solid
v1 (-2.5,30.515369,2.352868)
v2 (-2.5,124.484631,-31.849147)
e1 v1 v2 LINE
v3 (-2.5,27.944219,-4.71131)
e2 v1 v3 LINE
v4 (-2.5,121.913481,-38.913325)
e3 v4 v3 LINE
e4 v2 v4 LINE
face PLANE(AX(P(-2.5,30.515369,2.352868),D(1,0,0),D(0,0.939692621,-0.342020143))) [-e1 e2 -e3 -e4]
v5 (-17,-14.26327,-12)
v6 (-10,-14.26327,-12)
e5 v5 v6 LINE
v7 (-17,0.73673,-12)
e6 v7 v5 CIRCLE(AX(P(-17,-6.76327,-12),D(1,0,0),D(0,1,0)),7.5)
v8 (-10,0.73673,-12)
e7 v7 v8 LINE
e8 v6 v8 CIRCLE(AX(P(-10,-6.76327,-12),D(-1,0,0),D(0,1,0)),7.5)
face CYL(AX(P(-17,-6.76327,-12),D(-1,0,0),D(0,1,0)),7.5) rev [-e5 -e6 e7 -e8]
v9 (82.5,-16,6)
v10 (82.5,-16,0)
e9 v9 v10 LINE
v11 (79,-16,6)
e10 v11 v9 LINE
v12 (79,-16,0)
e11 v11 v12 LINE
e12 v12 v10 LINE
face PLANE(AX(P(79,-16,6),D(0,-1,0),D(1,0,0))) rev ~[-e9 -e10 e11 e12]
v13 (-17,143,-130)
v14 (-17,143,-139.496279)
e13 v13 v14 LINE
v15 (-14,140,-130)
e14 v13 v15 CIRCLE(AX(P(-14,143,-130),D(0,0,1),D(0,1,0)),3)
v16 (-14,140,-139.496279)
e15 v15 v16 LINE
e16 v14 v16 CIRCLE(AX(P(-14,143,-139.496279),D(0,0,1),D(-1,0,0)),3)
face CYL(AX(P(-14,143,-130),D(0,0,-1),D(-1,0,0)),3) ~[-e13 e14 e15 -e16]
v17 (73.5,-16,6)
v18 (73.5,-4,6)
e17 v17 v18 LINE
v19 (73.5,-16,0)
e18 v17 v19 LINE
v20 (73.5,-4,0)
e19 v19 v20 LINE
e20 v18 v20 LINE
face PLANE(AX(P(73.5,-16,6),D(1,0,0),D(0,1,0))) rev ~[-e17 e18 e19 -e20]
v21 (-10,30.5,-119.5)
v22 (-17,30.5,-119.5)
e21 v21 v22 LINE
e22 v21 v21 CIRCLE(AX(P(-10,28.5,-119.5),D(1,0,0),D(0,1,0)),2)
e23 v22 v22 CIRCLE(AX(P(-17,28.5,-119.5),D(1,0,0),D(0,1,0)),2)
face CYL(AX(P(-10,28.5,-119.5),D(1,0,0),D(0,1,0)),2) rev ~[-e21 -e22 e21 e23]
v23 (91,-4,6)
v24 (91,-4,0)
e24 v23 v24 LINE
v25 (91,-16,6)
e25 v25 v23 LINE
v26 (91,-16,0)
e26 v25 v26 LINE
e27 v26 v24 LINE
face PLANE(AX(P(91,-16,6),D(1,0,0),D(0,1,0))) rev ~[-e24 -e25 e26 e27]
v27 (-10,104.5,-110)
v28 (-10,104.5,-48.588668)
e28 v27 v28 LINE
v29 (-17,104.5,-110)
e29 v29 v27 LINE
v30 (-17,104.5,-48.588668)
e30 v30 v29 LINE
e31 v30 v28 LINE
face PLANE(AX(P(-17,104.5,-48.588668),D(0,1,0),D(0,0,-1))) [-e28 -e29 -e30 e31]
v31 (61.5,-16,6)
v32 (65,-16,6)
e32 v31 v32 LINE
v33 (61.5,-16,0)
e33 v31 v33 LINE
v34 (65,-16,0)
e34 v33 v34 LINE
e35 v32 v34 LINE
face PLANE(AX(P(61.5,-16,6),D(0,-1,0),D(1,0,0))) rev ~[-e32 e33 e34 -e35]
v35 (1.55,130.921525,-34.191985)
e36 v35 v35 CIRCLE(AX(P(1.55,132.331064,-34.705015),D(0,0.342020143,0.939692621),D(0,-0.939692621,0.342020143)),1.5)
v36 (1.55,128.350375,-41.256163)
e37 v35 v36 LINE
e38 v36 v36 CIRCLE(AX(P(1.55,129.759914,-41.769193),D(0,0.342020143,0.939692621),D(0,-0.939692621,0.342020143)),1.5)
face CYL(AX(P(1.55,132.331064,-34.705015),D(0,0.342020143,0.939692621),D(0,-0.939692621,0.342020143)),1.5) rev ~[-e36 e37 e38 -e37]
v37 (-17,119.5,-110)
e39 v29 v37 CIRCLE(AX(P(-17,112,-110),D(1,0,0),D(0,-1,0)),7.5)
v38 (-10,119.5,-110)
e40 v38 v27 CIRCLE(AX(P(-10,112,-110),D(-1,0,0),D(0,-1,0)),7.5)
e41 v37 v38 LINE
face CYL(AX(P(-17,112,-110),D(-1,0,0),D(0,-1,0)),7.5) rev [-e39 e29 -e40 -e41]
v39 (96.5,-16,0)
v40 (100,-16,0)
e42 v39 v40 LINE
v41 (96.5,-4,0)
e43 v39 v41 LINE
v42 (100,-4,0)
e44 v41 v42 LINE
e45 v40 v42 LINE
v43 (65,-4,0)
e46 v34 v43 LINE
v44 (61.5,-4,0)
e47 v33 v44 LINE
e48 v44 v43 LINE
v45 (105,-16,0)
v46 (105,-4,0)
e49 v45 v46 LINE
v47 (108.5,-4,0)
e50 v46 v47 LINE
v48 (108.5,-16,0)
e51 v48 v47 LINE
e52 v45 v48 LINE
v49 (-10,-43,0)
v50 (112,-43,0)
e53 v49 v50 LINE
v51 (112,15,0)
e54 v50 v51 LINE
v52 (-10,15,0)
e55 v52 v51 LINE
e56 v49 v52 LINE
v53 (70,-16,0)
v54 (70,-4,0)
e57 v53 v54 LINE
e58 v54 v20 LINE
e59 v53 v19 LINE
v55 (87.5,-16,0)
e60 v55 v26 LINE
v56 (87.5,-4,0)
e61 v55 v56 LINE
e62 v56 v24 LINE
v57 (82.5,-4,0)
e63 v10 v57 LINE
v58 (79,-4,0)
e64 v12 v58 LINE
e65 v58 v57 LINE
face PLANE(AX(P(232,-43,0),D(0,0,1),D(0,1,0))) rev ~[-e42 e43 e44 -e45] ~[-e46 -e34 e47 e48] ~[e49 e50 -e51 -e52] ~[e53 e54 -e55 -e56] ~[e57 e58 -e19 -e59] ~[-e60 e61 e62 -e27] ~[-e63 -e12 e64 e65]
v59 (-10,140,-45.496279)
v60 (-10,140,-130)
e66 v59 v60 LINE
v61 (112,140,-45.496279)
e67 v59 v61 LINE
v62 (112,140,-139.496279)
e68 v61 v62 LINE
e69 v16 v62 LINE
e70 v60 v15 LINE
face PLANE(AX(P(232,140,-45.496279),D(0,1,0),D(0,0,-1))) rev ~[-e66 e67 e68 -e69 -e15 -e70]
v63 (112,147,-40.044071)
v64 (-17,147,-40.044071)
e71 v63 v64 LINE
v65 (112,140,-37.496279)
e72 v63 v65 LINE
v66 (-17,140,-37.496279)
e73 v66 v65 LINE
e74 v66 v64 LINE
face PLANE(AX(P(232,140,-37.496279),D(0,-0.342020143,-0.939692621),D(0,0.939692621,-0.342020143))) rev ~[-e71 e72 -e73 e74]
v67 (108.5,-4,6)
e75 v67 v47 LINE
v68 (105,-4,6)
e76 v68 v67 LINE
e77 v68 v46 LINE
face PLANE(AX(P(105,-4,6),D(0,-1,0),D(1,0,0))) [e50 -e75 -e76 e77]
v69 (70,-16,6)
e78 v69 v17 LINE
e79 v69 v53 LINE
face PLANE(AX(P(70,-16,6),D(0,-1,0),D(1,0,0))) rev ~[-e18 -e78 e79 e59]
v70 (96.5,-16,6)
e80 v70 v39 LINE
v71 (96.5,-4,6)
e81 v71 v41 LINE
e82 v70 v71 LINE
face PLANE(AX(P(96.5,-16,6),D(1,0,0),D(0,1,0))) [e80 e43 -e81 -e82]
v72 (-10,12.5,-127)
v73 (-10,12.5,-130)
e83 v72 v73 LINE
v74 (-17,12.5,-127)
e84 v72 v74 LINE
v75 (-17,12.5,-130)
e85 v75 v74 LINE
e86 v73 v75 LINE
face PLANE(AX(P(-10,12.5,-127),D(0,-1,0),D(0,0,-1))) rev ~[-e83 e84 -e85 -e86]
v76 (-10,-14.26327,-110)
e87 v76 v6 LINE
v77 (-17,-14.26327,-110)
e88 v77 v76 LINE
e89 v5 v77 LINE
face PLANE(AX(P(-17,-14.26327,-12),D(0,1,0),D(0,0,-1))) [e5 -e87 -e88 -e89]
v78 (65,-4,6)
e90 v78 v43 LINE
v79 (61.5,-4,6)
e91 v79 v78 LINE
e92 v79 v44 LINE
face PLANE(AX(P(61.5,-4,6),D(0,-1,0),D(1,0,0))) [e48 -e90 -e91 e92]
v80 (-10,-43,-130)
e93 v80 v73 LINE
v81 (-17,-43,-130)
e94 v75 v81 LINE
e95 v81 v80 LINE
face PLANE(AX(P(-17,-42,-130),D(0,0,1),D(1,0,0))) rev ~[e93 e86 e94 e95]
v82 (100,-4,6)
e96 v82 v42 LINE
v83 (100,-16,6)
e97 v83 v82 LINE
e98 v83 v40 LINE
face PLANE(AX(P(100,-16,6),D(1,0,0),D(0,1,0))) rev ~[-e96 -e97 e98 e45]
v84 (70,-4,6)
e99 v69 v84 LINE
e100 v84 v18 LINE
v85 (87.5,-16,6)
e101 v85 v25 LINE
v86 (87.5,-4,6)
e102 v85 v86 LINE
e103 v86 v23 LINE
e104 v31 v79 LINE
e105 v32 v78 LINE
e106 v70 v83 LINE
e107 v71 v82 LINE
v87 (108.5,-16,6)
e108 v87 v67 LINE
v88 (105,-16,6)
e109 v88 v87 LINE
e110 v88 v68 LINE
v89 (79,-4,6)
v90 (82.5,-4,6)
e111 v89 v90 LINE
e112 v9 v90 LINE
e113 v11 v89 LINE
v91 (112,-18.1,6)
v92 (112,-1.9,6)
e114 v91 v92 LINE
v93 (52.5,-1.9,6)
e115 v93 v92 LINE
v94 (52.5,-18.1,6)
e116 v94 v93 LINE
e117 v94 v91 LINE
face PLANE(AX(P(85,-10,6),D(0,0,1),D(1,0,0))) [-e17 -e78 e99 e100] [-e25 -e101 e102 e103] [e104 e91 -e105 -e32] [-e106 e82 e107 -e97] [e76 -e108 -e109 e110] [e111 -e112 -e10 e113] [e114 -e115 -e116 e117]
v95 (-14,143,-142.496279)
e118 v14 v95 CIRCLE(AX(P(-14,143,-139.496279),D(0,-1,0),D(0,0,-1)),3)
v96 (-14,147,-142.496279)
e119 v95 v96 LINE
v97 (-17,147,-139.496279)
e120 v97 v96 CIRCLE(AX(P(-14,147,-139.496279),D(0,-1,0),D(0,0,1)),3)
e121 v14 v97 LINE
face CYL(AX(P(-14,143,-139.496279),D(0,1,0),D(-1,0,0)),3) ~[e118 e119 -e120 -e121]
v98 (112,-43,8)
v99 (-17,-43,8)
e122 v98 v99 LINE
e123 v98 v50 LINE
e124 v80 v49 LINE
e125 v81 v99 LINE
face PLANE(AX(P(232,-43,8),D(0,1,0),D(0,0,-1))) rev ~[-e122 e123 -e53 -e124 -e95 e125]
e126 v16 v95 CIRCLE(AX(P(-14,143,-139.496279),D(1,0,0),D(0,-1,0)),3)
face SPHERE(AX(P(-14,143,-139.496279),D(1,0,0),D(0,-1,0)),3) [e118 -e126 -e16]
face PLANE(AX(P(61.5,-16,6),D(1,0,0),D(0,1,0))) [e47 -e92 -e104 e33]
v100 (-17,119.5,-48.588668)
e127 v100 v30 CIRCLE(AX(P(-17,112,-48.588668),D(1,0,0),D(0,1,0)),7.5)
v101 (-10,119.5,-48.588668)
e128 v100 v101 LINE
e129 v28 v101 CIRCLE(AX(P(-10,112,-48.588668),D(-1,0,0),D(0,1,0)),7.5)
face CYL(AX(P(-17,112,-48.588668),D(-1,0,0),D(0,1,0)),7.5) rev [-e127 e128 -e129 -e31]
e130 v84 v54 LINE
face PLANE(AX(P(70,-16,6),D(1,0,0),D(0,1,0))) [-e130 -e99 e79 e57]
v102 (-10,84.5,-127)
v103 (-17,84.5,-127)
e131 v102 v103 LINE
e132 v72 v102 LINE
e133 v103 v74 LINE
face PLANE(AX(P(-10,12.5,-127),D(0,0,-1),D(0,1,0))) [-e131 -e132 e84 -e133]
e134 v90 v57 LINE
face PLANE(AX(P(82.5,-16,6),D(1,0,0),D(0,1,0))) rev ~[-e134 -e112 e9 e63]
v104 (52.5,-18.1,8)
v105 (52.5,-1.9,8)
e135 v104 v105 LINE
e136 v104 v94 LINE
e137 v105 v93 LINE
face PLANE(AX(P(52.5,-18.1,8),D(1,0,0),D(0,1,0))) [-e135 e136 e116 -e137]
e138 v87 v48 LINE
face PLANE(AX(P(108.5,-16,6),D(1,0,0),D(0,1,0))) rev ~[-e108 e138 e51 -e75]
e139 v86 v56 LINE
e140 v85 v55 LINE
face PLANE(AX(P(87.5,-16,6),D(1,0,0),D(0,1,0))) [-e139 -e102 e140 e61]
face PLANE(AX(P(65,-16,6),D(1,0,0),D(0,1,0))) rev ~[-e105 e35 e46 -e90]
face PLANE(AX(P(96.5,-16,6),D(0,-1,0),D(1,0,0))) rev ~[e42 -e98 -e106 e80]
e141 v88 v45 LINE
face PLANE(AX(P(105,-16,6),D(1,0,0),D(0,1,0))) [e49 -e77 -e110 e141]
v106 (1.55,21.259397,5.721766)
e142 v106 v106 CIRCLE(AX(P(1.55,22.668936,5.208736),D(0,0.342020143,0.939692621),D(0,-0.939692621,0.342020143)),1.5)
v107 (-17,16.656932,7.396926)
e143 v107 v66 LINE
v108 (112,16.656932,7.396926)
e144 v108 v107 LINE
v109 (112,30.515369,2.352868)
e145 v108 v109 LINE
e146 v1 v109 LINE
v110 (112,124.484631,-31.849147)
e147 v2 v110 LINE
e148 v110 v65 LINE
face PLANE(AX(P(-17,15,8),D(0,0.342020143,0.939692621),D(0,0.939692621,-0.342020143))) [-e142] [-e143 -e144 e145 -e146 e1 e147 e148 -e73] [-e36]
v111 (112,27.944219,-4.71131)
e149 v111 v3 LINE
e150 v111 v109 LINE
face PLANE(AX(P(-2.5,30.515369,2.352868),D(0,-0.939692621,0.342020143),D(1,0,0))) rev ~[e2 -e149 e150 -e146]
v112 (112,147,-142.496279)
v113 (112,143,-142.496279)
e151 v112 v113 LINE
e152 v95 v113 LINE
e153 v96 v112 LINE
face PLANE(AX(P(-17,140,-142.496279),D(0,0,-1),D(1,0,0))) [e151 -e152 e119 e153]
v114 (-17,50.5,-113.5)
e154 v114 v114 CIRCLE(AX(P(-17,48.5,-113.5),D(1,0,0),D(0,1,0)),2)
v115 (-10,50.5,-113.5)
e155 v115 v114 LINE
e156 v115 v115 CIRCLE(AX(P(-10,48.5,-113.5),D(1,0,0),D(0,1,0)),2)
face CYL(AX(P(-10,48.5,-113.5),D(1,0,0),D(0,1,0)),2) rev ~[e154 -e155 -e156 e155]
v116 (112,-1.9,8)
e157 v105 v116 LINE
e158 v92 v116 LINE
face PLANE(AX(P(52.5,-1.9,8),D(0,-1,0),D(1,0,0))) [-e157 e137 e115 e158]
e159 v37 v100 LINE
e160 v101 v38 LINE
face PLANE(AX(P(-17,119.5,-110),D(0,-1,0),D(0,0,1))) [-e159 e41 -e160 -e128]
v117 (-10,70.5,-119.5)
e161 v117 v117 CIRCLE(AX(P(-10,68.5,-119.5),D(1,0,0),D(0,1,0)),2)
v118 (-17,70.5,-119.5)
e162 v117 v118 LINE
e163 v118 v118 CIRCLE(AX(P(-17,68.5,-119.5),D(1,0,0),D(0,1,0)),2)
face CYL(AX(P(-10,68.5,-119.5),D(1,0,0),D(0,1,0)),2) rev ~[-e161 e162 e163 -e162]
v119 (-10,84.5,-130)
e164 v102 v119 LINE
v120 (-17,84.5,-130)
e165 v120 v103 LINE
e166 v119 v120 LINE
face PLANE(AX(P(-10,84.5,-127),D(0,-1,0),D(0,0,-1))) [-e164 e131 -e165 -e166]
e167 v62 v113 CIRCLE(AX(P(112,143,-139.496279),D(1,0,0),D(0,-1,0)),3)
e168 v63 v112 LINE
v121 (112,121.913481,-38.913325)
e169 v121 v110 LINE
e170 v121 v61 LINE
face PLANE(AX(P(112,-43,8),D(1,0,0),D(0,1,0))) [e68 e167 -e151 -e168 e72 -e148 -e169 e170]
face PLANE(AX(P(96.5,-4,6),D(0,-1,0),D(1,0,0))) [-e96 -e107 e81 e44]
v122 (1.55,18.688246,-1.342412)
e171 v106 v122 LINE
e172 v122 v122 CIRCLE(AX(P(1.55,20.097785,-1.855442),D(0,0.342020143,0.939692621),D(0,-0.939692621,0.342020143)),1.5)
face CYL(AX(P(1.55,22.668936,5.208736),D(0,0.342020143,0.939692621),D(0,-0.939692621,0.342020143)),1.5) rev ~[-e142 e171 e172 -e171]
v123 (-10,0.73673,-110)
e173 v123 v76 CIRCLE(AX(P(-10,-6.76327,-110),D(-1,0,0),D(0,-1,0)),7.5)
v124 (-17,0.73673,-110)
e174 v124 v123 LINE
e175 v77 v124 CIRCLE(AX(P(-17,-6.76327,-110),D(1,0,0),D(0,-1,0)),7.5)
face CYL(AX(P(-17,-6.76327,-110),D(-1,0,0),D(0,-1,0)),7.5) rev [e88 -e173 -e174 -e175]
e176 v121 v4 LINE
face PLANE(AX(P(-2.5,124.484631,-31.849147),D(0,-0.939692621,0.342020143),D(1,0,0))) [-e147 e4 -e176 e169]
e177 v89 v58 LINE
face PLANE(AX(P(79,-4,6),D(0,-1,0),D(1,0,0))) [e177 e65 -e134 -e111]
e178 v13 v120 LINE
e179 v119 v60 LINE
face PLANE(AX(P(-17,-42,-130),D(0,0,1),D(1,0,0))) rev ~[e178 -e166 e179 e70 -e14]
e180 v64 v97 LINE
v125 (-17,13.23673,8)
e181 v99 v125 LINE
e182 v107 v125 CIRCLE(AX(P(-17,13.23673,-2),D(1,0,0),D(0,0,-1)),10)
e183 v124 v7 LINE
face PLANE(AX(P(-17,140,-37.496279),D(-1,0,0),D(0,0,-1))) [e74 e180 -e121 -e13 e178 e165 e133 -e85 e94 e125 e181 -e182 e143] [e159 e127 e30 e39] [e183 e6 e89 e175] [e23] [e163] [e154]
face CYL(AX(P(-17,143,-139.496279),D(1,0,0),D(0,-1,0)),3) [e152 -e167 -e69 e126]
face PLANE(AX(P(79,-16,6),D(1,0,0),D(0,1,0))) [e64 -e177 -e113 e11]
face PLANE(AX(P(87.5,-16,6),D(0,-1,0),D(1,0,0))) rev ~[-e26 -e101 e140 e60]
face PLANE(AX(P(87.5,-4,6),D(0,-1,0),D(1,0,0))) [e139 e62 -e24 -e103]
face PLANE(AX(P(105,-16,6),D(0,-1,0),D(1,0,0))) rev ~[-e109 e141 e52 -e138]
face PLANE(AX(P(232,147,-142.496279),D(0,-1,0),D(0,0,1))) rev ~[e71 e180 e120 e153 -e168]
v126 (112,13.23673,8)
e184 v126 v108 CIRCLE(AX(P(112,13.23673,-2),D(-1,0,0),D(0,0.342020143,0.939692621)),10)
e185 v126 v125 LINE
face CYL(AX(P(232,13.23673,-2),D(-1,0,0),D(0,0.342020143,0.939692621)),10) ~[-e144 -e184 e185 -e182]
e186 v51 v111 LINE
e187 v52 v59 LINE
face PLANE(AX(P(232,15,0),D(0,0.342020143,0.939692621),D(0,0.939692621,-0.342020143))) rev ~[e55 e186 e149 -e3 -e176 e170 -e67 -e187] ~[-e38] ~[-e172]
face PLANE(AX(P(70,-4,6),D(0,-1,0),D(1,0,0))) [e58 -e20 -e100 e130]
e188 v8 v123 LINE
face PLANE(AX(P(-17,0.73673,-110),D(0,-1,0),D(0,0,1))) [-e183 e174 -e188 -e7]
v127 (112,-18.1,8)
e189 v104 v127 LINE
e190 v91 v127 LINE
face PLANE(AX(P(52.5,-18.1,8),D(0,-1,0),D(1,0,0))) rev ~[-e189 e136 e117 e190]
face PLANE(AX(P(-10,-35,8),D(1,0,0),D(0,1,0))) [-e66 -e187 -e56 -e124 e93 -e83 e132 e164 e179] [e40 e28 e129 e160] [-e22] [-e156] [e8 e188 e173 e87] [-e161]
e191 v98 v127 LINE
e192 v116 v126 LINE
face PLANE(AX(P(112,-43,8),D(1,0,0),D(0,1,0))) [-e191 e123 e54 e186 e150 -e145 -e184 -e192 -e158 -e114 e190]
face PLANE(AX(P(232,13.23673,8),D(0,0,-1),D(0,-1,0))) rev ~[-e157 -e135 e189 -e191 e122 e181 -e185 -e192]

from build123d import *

# Parameters (mm, degrees)
SKETCH1_W                = 170
SKETCH1_H                = 130
BOSS_EXTRUDE1_DEPTH      = 8
SKETCH2_R                = 1.5
SKETCH2_W                = 165
SKETCH2_H                = 100
CUT_EXTRUDE1_DEPTH       = 21
SKETCH3_W                = 170
SKETCH3_H                = 20
BOSS_EXTRUDE2_DEPTH      = 8
SKETCH4_W                = 65
SKETCH4_H                = 16.2
CUT_EXTRUDE2_DEPTH       = 2
SKETCH5_W                = 3.5
SKETCH5_H                = 12
CUT_EXTRUDE3_DEPTH       = 35
SKETCH6_W                = 170
SKETCH6_H                = 150
BOSS_EXTRUDE3_DEPTH      = 8
BOSS_EXTRUDE4_DEPTH      = 138
SKETCH8_W                = 249
SKETCH8_H                = 138
BOSS_EXTRUDE5_DEPTH      = 1
SKETCH9_W                = 72.8
SKETCH9_H                = 73.25
CUT_EXTRUDE4_DEPTH       = 19
BOSS_EXTRUDE6_DEPTH      = 5
SKETCH11_R               = 1.5
CUT_EXTRUDE5_DEPTH       = 56
SKETCH12_R               = 9
SKETCH12_R_2             = 6.5
SKETCH12_R_3             = 1
SKETCH12_R_4             = 2.75
CUT_EXTRUDE6_DEPTH       = 115
SKETCH13_W               = 58.59049163
SKETCH13_H               = 30.075830986
CUT_EXTRUDE7_DEPTH       = 3
FILLET1_R                = 2
SKETCH15_R               = 1.5
CUT_EXTRUDE8_DEPTH       = 10
CUT_EXTRUDE10_DEPTH      = 261
SKETCH19_R               = 1.5
BOSS_EXTRUDE7_DEPTH      = 8
BOSS_EXTRUDE12_START     = -124.5
BOSS_EXTRUDE12_DEPTH     = 249
SKETCH22_R               = 1.5
SKETCH22_W               = 165
SKETCH22_H               = 100
CUT_EXTRUDE11_DEPTH      = 18
FILLET2_R                = 10
SKETCH24_R               = 2
SKETCH24_W               = 3
SKETCH24_H               = 72
CUT_EXTRUDE15_DEPTH      = 42
CUT_EXTRUDE16_DEPTH      = 140
CUT_EXTRUDE16_DEPTH_BACK = 242
SKETCH27_W               = 249
SKETCH27_H               = 105
BOSS_EXTRUDE13_DEPTH     = 7
CUT_EXTRUDE17_DEPTH      = 249
FILLET6_R                = 3
FILLET7_R                = 3
BOSS_EXTRUDE14_DEPTH     = 9
SKETCH30_R               = 1.5
CUT_EXTRUDE18_DEPTH      = 10
SKETCH31_R               = 1.5
CUT_EXTRUDE19_DEPTH      = 49
CUT_EXTRUDE20_DEPTH      = 49
SKETCH33_W               = 129
SKETCH33_H               = 190
CUT_EXTRUDE21_DEPTH      = 200


with BuildPart() as part:
    # Sketch1 → Boss-Extrude1 (new body)
    with BuildSketch(Plane.XY):
        with Locations((85, 65)):
            Rectangle(SKETCH1_W, SKETCH1_H)
    extrude(amount=BOSS_EXTRUDE1_DEPTH)

    # Sketch2 → Cut-Extrude1 (cut)
    with BuildSketch(Plane.XY.offset(8)):
        with Locations((6.55, 123.35)):
            Circle(SKETCH2_R)
        with Locations((163.45, 123.35)):
            Circle(SKETCH2_R)
        with Locations((6.55, 6.65)):
            Circle(SKETCH2_R)
        with Locations((163.45, 6.65)):
            Circle(SKETCH2_R)
        with Locations((85, 65)):
            Rectangle(SKETCH2_W, SKETCH2_H)
    extrude(amount=-CUT_EXTRUDE1_DEPTH, mode=Mode.SUBTRACT)

    # Sketch3 → Boss-Extrude2 (add)
    with BuildSketch(Plane.XY.offset(8)):
        with Locations((85, -10)):
            Rectangle(SKETCH3_W, SKETCH3_H)
    extrude(amount=-BOSS_EXTRUDE2_DEPTH)

    # Sketch4 → Cut-Extrude2 (cut)
    with BuildSketch(Plane.XY.offset(8)):
        with Locations((85, -10)):
            Rectangle(SKETCH4_W, SKETCH4_H)
    extrude(amount=-CUT_EXTRUDE2_DEPTH, mode=Mode.SUBTRACT)

    # Sketch5 → Cut-Extrude3 (cut)
    with BuildSketch(Plane.XY.offset(6)):
        with Locations((63.25, -10)):
            Rectangle(SKETCH5_W, SKETCH5_H)
        with Locations((71.75, -10)):
            Rectangle(SKETCH5_W, SKETCH5_H)
        with Locations((80.75, -10)):
            Rectangle(SKETCH5_W, SKETCH5_H)
        with Locations((89.25, -10)):
            Rectangle(SKETCH5_W, SKETCH5_H)
        with Locations((98.25, -10)):
            Rectangle(SKETCH5_W, SKETCH5_H)
        with Locations((106.75, -10)):
            Rectangle(SKETCH5_W, SKETCH5_H)
    extrude(amount=-CUT_EXTRUDE3_DEPTH, mode=Mode.SUBTRACT)

    # Sketch6 → Boss-Extrude3 (add)
    with BuildSketch(Plane.XY.offset(8)):
        Polygon((15.504384948, 140), (225, 140), (225, -35), (-10, -35), (-10, 140), align=None)
        with Locations((85, 55)):
            Rectangle(SKETCH6_W, SKETCH6_H, mode=Mode.SUBTRACT)
    extrude(amount=-BOSS_EXTRUDE3_DEPTH)

    # Sketch7 → Boss-Extrude4 (add)
    with BuildSketch(Plane.XY.offset(8)):
        Polygon((-10, 140), (-17, 140), (-17, -42), (232, -42), (232, 140), (225, 140), (225, -35), (-10, -35), align=None)
    extrude(amount=-BOSS_EXTRUDE4_DEPTH)

    # Sketch8 → Boss-Extrude5 (add)
    with BuildSketch(Plane.XZ.offset(42)):
        with Locations((107.5, -61)):
            Rectangle(SKETCH8_W, SKETCH8_H)
    extrude(amount=BOSS_EXTRUDE5_DEPTH)

    # Sketch9 → Cut-Extrude4 (cut)
    with BuildSketch(Plane(origin=(232, 0, 0), x_dir=(0, 0, -1), z_dir=(1, 0, 0))):
        with Locations((75, 35)):
            Rectangle(SKETCH9_W, SKETCH9_H)
    extrude(amount=-CUT_EXTRUDE4_DEPTH, mode=Mode.SUBTRACT)

    # Sketch10 → Boss-Extrude6 (add)
    with BuildSketch(Plane(origin=(232, 0, 0), x_dir=(0, 0, -1), z_dir=(1, 0, 0))):
        Polygon((36, 44), (36, -4), (114, -4), (114, 44), (119, 44), (119, -9), (31, -9), (31, 44), align=None)
    extrude(amount=BOSS_EXTRUDE6_DEPTH)

    # Sketch11 → Cut-Extrude5 (cut)
    with BuildSketch(Plane(origin=(237, 0, 0), x_dir=(0, 0, -1), z_dir=(1, 0, 0))):
        with Locations((33.5, 17.5)):
            Circle(SKETCH11_R)
        with Locations((116.5, 17.5)):
            Circle(SKETCH11_R)
    extrude(amount=-CUT_EXTRUDE5_DEPTH, mode=Mode.SUBTRACT)

    # Sketch12 → Cut-Extrude6 (cut)
    with BuildSketch(Plane(origin=(0, -35, 0), x_dir=(1, 0, 0), z_dir=(0, 1, 0))):
        with Locations(Location((166.25, 32.5, 0), (0, 0, 180))):
            Circle(SKETCH12_R)
        with Locations(Location((166.25, 97.5, 0), (0, 0, 180))):
            Circle(SKETCH12_R_2)
        with Locations(Location((155.75, 97.5, 0), (0, 0, 180))):
            Circle(SKETCH12_R_3)
        with Locations(Location((155.75, 85, 0), (0, 0, 180))):
            Circle(SKETCH12_R_3)
        with Locations(Location((176.75, 85, 0), (0, 0, 180))):
            Circle(SKETCH12_R_3)
        with Locations(Location((176.75, 97.5, 0), (0, 0, 180))):
            Circle(SKETCH12_R_3)
        with Locations(Location((145.25, 97.5, 0), (0, 0, 180))):
            Circle(SKETCH12_R_4)
        with Locations(Location((187.25, 97.5, 0), (0, 0, 180))):
            Circle(SKETCH12_R_4)
    extrude(amount=-CUT_EXTRUDE6_DEPTH, mode=Mode.SUBTRACT)

    # Sketch13 → Cut-Extrude7 (cut)
    with BuildSketch(Plane.XZ.offset(43)):
        with Locations((166.25, -93.48757215)):
            Rectangle(SKETCH13_W, SKETCH13_H)
    extrude(amount=-CUT_EXTRUDE7_DEPTH, mode=Mode.SUBTRACT)

    # Fillet1
    fillet1_edges = [part.edges().sort_by_distance(p)[0] for p in [
        (136.954754185, -40, -93.48757215),
        (166.25, -40, -78.449656657),
        (195.545245815, -40, -93.48757215),
        (166.25, -40, -108.525487643),
    ]]
    fillet(fillet1_edges, radius=FILLET1_R)

    # Sketch15 → Cut-Extrude8 (cut)
    with BuildSketch(Plane(origin=(0, 140, 0), x_dir=(1, 0, 0), z_dir=(0, 1, 0))):
        with Locations(Location((5, -4, 0), (0, 0, 270))):
            Circle(SKETCH15_R)
        with Locations(Location((20, -4, 0), (0, 0, 270))):
            Circle(SKETCH15_R)
        with Locations(Location((217, -4, 0), (0, 0, 90))):
            Circle(SKETCH15_R)
        with Locations(Location((202, -4, 0), (0, 0, 90))):
            Circle(SKETCH15_R)
    extrude(amount=-CUT_EXTRUDE8_DEPTH, mode=Mode.SUBTRACT)

    # Sketch18 → Cut-Extrude10 (cut)
    with BuildSketch(Plane(origin=(232, 0, 0), x_dir=(0, 0, -1), z_dir=(1, 0, 0))):
        Polygon((45.496279283, 140), (-8, 140), (-8, 15), (0, 15), align=None)
    extrude(amount=-CUT_EXTRUDE10_DEPTH, mode=Mode.SUBTRACT)

    # Sketch19 → Boss-Extrude7 (add)
    with BuildSketch(Plane.XY.offset(8)):
        with Locations((6.55, 6.65)):
            Circle(SKETCH19_R)
        with Locations((163.45, 6.65)):
            Circle(SKETCH19_R)
    extrude(amount=-BOSS_EXTRUDE7_DEPTH)

    # Sketch21 → Boss-Extrude12 (add)
    with BuildSketch(Plane(origin=(107.5, 0, 0), x_dir=(0, 0, -1), z_dir=(1, 0, 0)).offset(BOSS_EXTRUDE12_START)):
        Polygon((45.496279283, 140), (0, 15), (-8, 15), (37.496279283, 140), align=None)
    extrude(amount=BOSS_EXTRUDE12_DEPTH)

    # Sketch22 → Cut-Extrude11 (cut)
    with BuildSketch(Plane(origin=(0, 4.325817115, 11.885084845), x_dir=(1, 0, 0), z_dir=(0, 0.3420201433256603, 0.9396926207859115))):
        with Locations(Location((1.55, 136.220338945, 0), (0, 0, 270))):
            Circle(SKETCH22_R)
        with Locations(Location((158.45, 136.220338945, 0), (0, 0, 270))):
            Circle(SKETCH22_R)
        with Locations(Location((1.55, 19.520338945, 0), (0, 0, 270))):
            Circle(SKETCH22_R)
        with Locations(Location((158.45, 19.520338945, 0), (0, 0, 270))):
            Circle(SKETCH22_R)
        with Locations((80, 77.870338945)):
            Rectangle(SKETCH22_W, SKETCH22_H)
    extrude(amount=-CUT_EXTRUDE11_DEPTH, mode=Mode.SUBTRACT)

    # Fillet2
    fillet2_edges = [part.edges().sort_by_distance(p)[0] for p in [
        (107.5, 15, 8),
    ]]
    fillet(fillet2_edges, radius=FILLET2_R)

    # Sketch24 → Cut-Extrude15 (cut)
    with BuildSketch(Plane(origin=(-10, 0, 0), x_dir=(0, 0, -1), z_dir=(1, 0, 0))):
        with Locations(Location((113.5, 48.5, 0), (0, 0, 90))):
            Circle(SKETCH24_R)
        with Locations(Location((119.5, 68.5, 0), (0, 0, 90))):
            Circle(SKETCH24_R)
        with Locations(Location((119.5, 28.5, 0), (0, 0, 90))):
            Circle(SKETCH24_R)
        with Locations((128.5, 48.5)):
            Rectangle(SKETCH24_W, SKETCH24_H)
    extrude(amount=-CUT_EXTRUDE15_DEPTH, mode=Mode.SUBTRACT)

    # Sketch25 → Cut-Extrude16 (cut, two sides: drawn at the far end of the back side and taken through both)
    with BuildSketch(Plane(origin=(232, 0, 0), x_dir=(0, 0, -1), z_dir=(1, 0, 0)).offset(-CUT_EXTRUDE16_DEPTH_BACK)):
        Polygon((45.496279283, 140), (130, 140), (130, -43), (0, -43), (0, 15), align=None)
    extrude(amount=CUT_EXTRUDE16_DEPTH + CUT_EXTRUDE16_DEPTH_BACK, mode=Mode.SUBTRACT)

    # Sketch27 → Boss-Extrude13 (add)
    with BuildSketch(Plane(origin=(0, 140, 0), x_dir=(1, 0, 0), z_dir=(0, 1, 0))):
        with Locations((107.5, 89.996279283)):
            Rectangle(SKETCH27_W, SKETCH27_H)
    extrude(amount=BOSS_EXTRUDE13_DEPTH)

    # Sketch28 → Cut-Extrude17 (cut)
    with BuildSketch(Plane(origin=(232, 0, 0), x_dir=(0, 0, -1), z_dir=(1, 0, 0))):
        Polygon((37.496279283, 140), (40.044070923, 147), (37.496279283, 147), align=None)
    extrude(amount=-CUT_EXTRUDE17_DEPTH, mode=Mode.SUBTRACT)

    # Fillet6
    fillet6_edges = [part.edges().sort_by_distance(p)[0] for p in [
        (107.5, 140, -142.496279283),
    ]]
    fillet(fillet6_edges, radius=FILLET6_R)

    # Fillet7
    fillet7_edges = [part.edges().sort_by_distance(p)[0] for p in [
        (-17, 145, -142.496279283),
        (-17, 140, -134.748139642),
        (-17, 140.878679656, -141.617599627),
    ]]
    fillet(fillet7_edges, radius=FILLET7_R)

    # Sketch29 → Boss-Extrude14 (add)
    with BuildSketch(Plane(origin=(232, 0, 0), x_dir=(0, 0, -1), z_dir=(1, 0, 0))):
        with BuildLine():
            Line((-8, -43), (0, -43))
            Line((0, -43), (0, 15))
            Line((0, 15), (45.496279283, 140))
            Line((45.496279283, 140), (139.496279283, 140))
            ThreePointArc((139.496279283, 140), (141.886652657, 140.990125071), (142.876777727, 143.380498444))
            Line((142.876777727, 143.380498444), (142.496279283, 147))
            Line((142.496279283, 147), (40.044070923, 147))
            Line((40.044070923, 147), (-7.396926208, 16.656931626))
            ThreePointArc((-7.396926208, 16.656931626), (-7.84807753, 14.97321197), (-8, 13.236730193))
            Line((-8, 13.236730193), (-8, -43))
        make_face()
    extrude(amount=BOSS_EXTRUDE14_DEPTH)

    # Sketch30 → Cut-Extrude18 (cut)
    with BuildSketch(Plane(origin=(0, 147, 0), x_dir=(1, 0, 0), z_dir=(0, 1, 0))):
        with Locations(Location((218.25, 136.876777727, 0), (0, 0, 270))):
            Circle(SKETCH30_R)
        with Locations(Location((203.25, 136.876777727, 0), (0, 0, 270))):
            Circle(SKETCH30_R)
    extrude(amount=-CUT_EXTRUDE18_DEPTH, mode=Mode.SUBTRACT)

    # Sketch31 → Cut-Extrude19 (cut)
    with BuildSketch(Plane.XY.offset(8)):
        with Locations((219, -39)):
            Circle(SKETCH31_R)
        with Locations((204, -39)):
            Circle(SKETCH31_R)
    extrude(amount=-CUT_EXTRUDE19_DEPTH, mode=Mode.SUBTRACT)

    # Sketch32 → Cut-Extrude20 (cut)
    with BuildSketch(Plane.ZY.offset(17)):
        with BuildLine():
            Line((-110, 0.736730193), (-12, 0.736730193))
            ThreePointArc((-12, 0.736730193), (-4.5, -6.763269807), (-12, -14.263269807))
            Line((-12, -14.263269807), (-110, -14.263269807))
            ThreePointArc((-110, -14.263269807), (-117.5, -6.763269807), (-110, 0.736730193))
        make_face()
        with BuildLine():
            Line((-110, 119.5), (-48.588668173, 119.5))
            ThreePointArc((-48.588668173, 119.5), (-41.088668173, 112), (-48.588668173, 104.5))
            Line((-48.588668173, 104.5), (-110, 104.5))
            ThreePointArc((-110, 104.5), (-117.5, 112), (-110, 119.5))
        make_face()
    extrude(amount=-CUT_EXTRUDE20_DEPTH, mode=Mode.SUBTRACT)

    # Sketch33 → Cut-Extrude21 (cut)
    with BuildSketch(Plane.XY.offset(8)):
        with Locations((176.5, 52)):
            Rectangle(SKETCH33_W, SKETCH33_H)
    extrude(amount=-CUT_EXTRUDE21_DEPTH, mode=Mode.SUBTRACT)


solid = part.part
